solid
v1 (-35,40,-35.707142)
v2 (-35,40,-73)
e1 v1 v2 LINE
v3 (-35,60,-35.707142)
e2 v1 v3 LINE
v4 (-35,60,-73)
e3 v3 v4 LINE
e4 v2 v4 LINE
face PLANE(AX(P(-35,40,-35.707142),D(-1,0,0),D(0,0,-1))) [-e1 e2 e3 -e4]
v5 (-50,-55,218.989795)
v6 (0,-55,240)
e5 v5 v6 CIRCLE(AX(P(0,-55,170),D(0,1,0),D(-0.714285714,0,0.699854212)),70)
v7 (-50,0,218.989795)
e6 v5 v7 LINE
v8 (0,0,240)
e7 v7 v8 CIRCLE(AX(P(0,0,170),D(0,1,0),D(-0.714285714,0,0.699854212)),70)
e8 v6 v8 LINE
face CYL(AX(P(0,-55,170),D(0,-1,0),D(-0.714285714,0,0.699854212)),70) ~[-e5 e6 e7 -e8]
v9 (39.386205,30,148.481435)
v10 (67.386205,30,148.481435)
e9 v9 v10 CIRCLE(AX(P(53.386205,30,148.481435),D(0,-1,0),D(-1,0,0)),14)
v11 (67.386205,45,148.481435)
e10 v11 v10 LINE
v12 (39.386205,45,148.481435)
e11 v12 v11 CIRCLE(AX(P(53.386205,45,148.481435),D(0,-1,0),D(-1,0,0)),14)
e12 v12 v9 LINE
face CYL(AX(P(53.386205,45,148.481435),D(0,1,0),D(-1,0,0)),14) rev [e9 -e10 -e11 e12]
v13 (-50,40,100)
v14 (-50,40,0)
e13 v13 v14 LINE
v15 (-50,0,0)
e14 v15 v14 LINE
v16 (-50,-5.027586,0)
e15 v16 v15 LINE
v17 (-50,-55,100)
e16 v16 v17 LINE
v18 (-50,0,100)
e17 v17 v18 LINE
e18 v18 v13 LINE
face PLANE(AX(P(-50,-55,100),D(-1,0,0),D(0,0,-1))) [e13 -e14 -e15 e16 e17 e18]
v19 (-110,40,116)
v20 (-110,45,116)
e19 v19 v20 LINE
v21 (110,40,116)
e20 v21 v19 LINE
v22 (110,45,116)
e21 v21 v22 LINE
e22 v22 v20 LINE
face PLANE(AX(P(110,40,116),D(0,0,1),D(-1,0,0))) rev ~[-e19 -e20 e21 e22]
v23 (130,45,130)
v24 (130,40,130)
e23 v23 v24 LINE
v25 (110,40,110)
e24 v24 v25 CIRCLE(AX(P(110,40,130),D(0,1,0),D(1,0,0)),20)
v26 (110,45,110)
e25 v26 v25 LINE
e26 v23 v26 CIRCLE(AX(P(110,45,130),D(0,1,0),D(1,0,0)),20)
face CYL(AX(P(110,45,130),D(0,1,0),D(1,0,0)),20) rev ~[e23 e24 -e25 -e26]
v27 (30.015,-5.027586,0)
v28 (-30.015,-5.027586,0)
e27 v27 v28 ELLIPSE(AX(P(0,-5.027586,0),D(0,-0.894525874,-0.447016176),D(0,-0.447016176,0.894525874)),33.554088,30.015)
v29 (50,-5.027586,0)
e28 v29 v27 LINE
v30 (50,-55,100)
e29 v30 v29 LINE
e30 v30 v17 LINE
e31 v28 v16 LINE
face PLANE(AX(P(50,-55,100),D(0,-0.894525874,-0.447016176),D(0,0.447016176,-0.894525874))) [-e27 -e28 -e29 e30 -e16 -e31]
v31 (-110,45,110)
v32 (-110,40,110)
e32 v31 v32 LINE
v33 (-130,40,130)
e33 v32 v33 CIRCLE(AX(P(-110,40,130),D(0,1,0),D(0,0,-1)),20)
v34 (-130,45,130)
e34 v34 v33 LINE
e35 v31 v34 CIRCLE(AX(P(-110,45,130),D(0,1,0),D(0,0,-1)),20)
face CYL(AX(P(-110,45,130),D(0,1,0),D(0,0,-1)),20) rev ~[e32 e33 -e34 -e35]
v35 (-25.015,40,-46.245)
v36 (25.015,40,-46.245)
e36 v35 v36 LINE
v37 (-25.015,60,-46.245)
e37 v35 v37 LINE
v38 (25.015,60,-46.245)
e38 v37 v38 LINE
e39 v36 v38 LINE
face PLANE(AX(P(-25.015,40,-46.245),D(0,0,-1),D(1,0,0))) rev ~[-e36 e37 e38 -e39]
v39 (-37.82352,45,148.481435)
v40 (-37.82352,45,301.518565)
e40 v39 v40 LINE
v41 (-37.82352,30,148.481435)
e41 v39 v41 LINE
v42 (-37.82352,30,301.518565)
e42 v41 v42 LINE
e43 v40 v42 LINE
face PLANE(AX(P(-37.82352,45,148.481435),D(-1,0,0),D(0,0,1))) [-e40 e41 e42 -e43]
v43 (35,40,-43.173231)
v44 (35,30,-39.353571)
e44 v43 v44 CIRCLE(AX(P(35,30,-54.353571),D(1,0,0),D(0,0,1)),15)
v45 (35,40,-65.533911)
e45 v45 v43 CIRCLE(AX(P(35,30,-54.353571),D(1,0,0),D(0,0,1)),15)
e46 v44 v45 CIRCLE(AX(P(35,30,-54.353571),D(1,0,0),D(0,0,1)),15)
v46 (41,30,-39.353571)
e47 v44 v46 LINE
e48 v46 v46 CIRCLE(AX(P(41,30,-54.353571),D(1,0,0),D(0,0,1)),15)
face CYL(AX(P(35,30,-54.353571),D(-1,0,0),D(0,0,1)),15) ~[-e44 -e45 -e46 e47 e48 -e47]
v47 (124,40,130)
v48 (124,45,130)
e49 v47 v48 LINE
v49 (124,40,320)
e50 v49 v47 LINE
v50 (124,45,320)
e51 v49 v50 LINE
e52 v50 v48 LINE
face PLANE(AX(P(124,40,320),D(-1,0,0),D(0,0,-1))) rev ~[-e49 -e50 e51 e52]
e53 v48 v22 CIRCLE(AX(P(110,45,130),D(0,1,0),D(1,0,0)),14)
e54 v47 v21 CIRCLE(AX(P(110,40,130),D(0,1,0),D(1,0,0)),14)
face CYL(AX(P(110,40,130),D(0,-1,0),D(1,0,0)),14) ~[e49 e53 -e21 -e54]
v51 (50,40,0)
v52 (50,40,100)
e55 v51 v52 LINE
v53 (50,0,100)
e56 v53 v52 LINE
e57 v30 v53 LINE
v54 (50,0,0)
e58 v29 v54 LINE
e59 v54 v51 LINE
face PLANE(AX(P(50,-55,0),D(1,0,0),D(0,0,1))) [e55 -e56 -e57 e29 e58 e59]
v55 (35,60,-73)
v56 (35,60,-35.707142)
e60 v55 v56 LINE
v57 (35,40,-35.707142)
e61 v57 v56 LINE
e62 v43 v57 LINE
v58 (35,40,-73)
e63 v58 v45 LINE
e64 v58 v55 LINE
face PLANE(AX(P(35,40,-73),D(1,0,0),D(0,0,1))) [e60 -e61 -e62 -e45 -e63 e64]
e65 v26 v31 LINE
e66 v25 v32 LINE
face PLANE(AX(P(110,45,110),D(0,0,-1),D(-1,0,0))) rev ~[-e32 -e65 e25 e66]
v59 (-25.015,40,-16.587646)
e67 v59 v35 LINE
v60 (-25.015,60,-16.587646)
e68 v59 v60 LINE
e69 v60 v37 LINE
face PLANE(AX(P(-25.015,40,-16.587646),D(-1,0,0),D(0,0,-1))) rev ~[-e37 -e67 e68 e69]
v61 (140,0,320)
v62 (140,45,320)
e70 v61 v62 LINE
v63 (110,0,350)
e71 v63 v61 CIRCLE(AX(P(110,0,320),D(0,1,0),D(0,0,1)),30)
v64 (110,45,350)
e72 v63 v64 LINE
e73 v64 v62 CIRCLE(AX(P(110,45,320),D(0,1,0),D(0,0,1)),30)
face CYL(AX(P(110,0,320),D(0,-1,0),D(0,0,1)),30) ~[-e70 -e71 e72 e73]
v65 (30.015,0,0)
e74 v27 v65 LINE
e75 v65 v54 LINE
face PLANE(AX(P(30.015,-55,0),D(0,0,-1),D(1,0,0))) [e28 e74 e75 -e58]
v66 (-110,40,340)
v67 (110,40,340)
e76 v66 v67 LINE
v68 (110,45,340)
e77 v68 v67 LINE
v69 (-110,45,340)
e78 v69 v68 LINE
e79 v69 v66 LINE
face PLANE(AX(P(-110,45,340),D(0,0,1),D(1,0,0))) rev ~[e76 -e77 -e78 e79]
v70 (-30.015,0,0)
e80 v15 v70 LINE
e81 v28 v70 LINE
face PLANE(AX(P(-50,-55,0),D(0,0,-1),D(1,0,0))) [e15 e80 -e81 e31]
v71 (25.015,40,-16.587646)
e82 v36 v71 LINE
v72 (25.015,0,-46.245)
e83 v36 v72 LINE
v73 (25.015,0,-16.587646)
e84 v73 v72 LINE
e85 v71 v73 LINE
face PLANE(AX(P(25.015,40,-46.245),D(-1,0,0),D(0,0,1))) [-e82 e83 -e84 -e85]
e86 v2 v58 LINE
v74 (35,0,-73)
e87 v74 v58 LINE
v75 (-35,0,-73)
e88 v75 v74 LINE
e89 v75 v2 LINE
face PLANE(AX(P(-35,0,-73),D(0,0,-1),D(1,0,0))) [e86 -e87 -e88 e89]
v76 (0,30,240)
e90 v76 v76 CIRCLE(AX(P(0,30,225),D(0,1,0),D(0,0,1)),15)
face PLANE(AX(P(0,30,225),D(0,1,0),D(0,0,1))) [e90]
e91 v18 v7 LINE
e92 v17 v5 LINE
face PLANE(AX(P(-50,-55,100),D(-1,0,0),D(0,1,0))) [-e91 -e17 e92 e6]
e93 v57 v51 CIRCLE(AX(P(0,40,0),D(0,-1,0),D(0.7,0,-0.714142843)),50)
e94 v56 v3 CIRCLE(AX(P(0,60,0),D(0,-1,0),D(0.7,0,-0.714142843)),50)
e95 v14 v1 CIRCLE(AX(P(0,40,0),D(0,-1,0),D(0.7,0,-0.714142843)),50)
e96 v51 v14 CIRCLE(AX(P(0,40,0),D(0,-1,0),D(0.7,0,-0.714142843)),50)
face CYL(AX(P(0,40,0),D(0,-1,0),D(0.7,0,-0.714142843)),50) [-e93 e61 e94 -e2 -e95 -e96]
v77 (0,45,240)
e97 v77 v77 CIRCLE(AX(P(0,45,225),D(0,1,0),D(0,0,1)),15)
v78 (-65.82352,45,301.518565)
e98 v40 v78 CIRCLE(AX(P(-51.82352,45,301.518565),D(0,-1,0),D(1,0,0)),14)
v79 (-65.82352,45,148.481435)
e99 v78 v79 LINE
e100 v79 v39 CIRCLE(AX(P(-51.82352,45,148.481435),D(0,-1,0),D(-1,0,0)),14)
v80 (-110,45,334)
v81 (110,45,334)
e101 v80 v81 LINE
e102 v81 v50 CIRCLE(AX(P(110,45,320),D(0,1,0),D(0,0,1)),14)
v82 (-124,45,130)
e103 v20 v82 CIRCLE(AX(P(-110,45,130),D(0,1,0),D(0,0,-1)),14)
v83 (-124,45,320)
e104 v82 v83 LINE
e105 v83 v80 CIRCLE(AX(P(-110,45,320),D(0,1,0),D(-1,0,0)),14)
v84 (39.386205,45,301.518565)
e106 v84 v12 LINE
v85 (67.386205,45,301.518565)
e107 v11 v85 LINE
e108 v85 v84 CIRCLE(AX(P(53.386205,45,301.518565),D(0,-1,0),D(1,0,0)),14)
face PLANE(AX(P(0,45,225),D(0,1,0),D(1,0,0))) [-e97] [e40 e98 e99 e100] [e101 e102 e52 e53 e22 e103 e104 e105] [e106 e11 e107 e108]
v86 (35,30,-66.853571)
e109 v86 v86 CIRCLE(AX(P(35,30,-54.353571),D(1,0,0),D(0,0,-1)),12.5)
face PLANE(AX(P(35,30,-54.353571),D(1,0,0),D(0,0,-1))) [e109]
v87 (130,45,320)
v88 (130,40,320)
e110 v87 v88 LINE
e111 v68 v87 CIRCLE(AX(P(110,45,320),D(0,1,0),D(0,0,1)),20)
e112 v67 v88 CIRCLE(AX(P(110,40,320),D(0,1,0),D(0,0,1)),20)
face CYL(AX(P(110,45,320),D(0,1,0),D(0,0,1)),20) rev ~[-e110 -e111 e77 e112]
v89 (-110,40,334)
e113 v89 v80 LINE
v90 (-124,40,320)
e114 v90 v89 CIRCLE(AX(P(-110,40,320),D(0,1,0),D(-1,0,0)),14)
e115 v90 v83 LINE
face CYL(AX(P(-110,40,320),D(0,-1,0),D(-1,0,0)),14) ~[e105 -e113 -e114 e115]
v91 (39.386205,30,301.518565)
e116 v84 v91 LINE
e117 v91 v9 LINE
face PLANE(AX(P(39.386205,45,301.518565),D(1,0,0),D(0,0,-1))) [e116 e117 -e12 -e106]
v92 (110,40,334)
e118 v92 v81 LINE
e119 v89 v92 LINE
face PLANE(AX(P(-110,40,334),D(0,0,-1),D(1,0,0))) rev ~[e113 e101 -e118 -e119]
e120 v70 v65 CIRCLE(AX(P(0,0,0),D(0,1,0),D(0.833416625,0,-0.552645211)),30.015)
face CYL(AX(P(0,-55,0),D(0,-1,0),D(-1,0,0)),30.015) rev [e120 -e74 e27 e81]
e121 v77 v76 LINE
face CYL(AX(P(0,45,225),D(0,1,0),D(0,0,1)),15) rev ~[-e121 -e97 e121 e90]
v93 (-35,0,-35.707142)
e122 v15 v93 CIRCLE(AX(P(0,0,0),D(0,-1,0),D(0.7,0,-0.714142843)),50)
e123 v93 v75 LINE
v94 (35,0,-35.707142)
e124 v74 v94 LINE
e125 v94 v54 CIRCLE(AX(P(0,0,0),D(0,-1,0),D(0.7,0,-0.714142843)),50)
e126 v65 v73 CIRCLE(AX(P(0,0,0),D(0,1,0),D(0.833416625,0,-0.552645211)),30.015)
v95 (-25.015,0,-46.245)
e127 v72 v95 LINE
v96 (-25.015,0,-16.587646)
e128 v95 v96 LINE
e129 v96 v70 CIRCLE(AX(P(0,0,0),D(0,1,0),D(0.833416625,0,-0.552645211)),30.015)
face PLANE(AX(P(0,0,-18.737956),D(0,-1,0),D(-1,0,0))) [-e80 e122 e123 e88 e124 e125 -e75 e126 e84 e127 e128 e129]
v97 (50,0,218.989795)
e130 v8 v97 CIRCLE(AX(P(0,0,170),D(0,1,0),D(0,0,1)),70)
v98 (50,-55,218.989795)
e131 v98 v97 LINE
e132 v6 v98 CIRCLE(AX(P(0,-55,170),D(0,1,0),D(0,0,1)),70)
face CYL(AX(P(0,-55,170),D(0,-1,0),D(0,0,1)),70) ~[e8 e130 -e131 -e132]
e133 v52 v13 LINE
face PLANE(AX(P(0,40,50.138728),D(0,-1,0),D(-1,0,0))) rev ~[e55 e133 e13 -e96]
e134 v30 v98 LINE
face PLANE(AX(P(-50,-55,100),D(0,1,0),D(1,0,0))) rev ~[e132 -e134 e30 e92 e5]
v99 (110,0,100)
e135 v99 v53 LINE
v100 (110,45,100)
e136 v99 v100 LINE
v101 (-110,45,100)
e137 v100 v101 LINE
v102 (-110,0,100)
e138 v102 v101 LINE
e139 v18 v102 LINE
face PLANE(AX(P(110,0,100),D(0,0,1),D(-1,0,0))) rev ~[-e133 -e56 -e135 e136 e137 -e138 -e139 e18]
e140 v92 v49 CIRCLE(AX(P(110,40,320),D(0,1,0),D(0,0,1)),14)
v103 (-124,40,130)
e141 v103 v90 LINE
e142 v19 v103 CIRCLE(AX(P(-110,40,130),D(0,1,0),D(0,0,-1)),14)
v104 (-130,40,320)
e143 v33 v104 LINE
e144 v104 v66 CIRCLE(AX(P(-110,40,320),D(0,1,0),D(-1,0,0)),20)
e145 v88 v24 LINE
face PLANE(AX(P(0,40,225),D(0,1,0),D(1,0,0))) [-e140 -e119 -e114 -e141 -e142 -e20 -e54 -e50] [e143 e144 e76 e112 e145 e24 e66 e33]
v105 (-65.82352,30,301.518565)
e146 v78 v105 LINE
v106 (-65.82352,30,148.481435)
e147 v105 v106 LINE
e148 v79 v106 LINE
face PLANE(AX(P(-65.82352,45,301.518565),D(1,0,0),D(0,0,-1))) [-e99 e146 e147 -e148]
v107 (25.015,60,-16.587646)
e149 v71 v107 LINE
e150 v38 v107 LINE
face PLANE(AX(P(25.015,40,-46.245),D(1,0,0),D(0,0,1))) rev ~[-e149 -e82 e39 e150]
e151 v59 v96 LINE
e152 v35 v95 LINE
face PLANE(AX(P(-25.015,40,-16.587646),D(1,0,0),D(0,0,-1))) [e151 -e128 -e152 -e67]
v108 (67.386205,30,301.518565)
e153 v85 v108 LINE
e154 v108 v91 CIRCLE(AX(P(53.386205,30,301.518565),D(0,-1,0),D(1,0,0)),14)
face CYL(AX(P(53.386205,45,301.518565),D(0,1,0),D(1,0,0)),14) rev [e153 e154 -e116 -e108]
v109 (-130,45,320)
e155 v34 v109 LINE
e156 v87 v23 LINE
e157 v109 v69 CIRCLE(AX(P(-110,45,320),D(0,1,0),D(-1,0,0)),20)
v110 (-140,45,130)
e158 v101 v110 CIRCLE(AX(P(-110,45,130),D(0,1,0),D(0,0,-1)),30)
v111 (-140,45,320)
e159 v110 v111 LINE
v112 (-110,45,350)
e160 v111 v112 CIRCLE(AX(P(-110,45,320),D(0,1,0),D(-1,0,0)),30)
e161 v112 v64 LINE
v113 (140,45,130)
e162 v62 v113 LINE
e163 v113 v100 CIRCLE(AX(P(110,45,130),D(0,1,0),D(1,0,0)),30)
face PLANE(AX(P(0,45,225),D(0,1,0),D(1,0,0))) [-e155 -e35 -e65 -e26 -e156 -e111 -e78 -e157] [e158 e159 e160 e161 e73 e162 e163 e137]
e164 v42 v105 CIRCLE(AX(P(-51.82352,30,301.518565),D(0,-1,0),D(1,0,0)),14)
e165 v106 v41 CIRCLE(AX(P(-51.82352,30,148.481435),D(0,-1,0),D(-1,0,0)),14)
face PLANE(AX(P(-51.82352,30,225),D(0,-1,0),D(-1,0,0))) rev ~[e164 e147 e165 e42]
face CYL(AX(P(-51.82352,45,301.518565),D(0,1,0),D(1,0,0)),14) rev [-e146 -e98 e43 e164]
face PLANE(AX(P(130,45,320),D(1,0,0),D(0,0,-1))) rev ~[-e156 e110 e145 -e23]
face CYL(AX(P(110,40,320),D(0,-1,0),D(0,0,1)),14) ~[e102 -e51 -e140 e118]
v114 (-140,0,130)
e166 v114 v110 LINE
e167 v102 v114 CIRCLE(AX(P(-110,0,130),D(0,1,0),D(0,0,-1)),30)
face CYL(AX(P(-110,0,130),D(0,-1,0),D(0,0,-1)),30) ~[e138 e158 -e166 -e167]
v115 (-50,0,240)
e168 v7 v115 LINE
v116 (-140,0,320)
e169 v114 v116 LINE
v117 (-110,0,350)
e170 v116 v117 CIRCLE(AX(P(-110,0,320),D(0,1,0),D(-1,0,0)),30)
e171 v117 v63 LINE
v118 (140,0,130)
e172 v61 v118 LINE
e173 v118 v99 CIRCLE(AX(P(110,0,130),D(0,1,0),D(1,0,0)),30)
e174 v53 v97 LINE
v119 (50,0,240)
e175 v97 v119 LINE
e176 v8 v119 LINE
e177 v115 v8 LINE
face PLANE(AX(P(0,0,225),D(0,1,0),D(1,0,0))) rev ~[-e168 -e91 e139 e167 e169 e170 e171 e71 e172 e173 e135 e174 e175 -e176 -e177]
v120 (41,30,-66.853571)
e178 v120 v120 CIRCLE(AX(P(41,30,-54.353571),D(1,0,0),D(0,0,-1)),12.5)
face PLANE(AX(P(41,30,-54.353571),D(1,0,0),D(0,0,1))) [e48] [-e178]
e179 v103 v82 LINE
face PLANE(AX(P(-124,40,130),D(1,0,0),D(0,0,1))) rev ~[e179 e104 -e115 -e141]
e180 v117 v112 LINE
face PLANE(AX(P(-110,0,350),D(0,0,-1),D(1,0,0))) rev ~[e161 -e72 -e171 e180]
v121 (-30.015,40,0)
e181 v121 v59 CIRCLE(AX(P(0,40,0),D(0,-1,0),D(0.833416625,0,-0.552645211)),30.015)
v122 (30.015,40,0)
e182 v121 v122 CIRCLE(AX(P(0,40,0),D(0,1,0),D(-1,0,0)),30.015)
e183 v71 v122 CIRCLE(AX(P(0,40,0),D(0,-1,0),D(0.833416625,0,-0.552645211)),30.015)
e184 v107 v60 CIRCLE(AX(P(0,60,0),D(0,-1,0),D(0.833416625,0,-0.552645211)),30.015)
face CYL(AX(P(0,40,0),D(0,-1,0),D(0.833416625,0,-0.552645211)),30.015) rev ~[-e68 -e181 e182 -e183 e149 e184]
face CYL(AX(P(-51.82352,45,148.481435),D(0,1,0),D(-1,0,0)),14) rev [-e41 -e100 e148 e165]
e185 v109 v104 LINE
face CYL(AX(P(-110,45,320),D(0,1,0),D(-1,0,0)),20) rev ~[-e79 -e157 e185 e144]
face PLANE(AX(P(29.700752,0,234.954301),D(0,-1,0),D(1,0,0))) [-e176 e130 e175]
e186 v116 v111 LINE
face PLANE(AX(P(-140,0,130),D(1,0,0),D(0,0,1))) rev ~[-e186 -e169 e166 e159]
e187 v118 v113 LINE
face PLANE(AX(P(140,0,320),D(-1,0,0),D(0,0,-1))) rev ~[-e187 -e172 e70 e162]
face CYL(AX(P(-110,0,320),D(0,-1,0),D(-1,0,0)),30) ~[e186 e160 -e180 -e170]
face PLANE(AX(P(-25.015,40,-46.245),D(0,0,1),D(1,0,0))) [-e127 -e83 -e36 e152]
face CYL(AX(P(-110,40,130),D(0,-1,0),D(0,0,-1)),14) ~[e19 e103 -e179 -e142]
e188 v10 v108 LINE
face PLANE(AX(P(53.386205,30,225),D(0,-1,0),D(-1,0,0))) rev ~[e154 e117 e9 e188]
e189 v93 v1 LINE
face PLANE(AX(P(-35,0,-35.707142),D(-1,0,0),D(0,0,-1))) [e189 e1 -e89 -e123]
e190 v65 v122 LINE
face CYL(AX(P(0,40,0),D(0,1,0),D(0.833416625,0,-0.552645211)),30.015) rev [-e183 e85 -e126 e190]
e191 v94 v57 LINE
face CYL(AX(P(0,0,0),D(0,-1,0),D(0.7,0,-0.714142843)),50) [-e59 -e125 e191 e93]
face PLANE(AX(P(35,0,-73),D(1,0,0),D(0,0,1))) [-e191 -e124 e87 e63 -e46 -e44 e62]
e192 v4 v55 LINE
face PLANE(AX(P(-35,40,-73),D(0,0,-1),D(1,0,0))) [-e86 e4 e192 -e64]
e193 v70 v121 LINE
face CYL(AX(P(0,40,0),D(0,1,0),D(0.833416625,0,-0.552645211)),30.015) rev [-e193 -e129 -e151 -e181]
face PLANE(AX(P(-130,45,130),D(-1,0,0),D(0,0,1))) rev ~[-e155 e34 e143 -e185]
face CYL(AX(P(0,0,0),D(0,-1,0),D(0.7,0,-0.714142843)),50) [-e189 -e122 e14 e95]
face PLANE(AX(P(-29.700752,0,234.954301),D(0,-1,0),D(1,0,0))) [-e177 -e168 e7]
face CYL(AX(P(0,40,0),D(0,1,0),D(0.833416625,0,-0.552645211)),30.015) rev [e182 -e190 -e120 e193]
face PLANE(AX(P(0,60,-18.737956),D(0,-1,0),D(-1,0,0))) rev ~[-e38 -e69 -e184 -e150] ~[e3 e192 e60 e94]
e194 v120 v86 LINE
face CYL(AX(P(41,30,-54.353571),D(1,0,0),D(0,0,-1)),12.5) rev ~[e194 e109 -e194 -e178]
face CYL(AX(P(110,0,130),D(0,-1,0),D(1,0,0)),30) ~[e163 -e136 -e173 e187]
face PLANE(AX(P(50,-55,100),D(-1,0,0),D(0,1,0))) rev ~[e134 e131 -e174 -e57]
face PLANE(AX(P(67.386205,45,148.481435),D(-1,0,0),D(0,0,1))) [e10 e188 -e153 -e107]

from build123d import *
from build123d.topology import SkipClean

# Parameters (mm, degrees)
BOSS_EXTRUDE1_DEPTH      = 40
CUT_EXTRUDE1_DEPTH       = 66
BOSS_EXTRUDE2_START      = -55
BOSS_EXTRUDE2_DEPTH      = 95
CUT_EXTRUDE2_DEPTH       = 256
BOSS_EXTRUDE3_DEPTH      = 5
BOSS_EXTRUDE3_DEPTH_BACK = 40
BOSS_EXTRUDE4_DEPTH      = 20
CUT_EXTRUDE3_DEPTH       = 5
BOSS_EXTRUDE5_DEPTH      = 5
SKETCH9_R                = 15
CUT_EXTRUDE5_DEPTH       = 15
SKETCH10_W               = 100
SKETCH10_H               = 55
BOSS_EXTRUDE6_DEPTH      = 140
CUT_EXTRUDE6_DEPTH       = 55
SKETCH12_R               = 15
BOSS_EXTRUDE7_DEPTH      = 6
SKETCH13_R               = 12.5
CUT_EXTRUDE7_DEPTH       = 6


with BuildPart() as part:
    # Sketch1 → Boss-Extrude1 (new body)
    with BuildSketch(Plane(origin=(0, 0, 0), x_dir=(1, 0, 0), z_dir=(0, 1, 0))):
        with BuildLine():
            Line((-35, 73), (35, 73))
            Line((35, 73), (35, 35.707142143))
            ThreePointArc((35, 35.707142143), (0, -50), (-35, 35.707142143))
            Line((-35, 35.707142143), (-35, 73))
        make_face()
    extrude(amount=BOSS_EXTRUDE1_DEPTH)

    # Sketch2 → Cut-Extrude1 (cut)
    with BuildSketch(Plane(origin=(0, 40, 0), x_dir=(1, 0, 0), z_dir=(0, 1, 0))):
        with BuildLine():
            Line((-25.015, 16.587646005), (-25.015, 46.245))
            Line((-25.015, 46.245), (25.015, 46.245))
            Line((25.015, 46.245), (25.015, 16.587646005))
            ThreePointArc((25.015, 16.587646005), (0, -30.015), (-25.015, 16.587646005))
        make_face()
    extrude(amount=-CUT_EXTRUDE1_DEPTH, mode=Mode.SUBTRACT)

    # Sketch3 → Boss-Extrude2 (add)
    with SkipClean():  # the faces are left unmerged after this step: merging them gives an invalid solid
        with BuildSketch(Plane(origin=(0, 0, 0), x_dir=(1, 0, 0), z_dir=(0, 1, 0)).offset(BOSS_EXTRUDE2_START)):
            with BuildLine():
                Line((30.015, 0), (50, 0))
                Line((50, 0), (50, -100))
                Line((50, -100), (-50, -100))
                Line((-50, -100), (-50, 0))
                Line((-50, 0), (-30.015, 0))
                ThreePointArc((-30.015, 0), (0, -30.015), (30.015, 0))
            make_face()
        extrude(amount=BOSS_EXTRUDE2_DEPTH)

    # Sketch4 → Cut-Extrude2 (cut)
    with SkipClean():  # the faces are left unmerged after this step: merging them gives an invalid solid
        with BuildSketch(Plane(origin=(50, 0, 0), x_dir=(0, 0, -1), z_dir=(1, 0, 0))):
            Polygon((-100, -55), (0, -5.02758566), (0, -55), align=None)
        extrude(amount=-CUT_EXTRUDE2_DEPTH, mode=Mode.SUBTRACT)

    # Sketch5 → Boss-Extrude3 (add, two sides: drawn at the far end of the back side and taken through both)
    with SkipClean():  # the faces are left unmerged after this step: merging them gives an invalid solid
        with BuildSketch(Plane(origin=(0, 40, 0), x_dir=(1, 0, 0), z_dir=(0, 1, 0)).offset(-BOSS_EXTRUDE3_DEPTH_BACK)):
            with BuildLine():
                Line((-110, -350), (110, -350))
                ThreePointArc((110, -350), (131.213203436, -341.213203436), (140, -320))
                Line((140, -320), (140, -130))
                ThreePointArc((140, -130), (131.213203436, -108.786796564), (110, -100))
                Line((110, -100), (-110, -100))
                ThreePointArc((-110, -100), (-131.213203436, -108.786796564), (-140, -130))
                Line((-140, -130), (-140, -320))
                ThreePointArc((-140, -320), (-131.213203436, -341.213203436), (-110, -350))
            make_face()
        extrude(amount=BOSS_EXTRUDE3_DEPTH + BOSS_EXTRUDE3_DEPTH_BACK)

    # Sketch6 → Boss-Extrude4 (add)
    with SkipClean():  # the faces are left unmerged after this step: merging them gives an invalid solid
        with BuildSketch(Plane(origin=(0, 40, 0), x_dir=(1, 0, 0), z_dir=(0, 1, 0))):
            with BuildLine():
                Line((-35, 35.707142143), (-35, 73))
                Line((-35, 73), (35, 73))
                Line((35, 73), (35, 35.707142143))
                ThreePointArc((35, 35.707142143), (0, -50), (-35, 35.707142143))
            make_face()
            with BuildLine():
                Line((-25.015, 16.587646005), (-25.015, 46.245))
                Line((-25.015, 46.245), (25.015, 46.245))
                Line((25.015, 46.245), (25.015, 16.587646005))
                ThreePointArc((25.015, 16.587646005), (0, -30.015), (-25.015, 16.587646005))
            make_face(mode=Mode.SUBTRACT)
        extrude(amount=BOSS_EXTRUDE4_DEPTH)

    # Sketch7 → Cut-Extrude3 (cut)
    with SkipClean():  # the faces are left unmerged after this step: merging them gives an invalid solid
        with BuildSketch(Plane(origin=(0, 45, 0), x_dir=(1, 0, 0), z_dir=(0, 1, 0))):
            with BuildLine():
                Line((130, -320), (130, -130))
                ThreePointArc((130, -130), (124.142135624, -115.857864376), (110, -110))
                Line((110, -110), (-110, -110))
                ThreePointArc((-110, -110), (-124.142135624, -115.857864376), (-130, -130))
                Line((-130, -130), (-130, -320))
                ThreePointArc((-130, -320), (-124.142135624, -334.142135624), (-110, -340))
                Line((-110, -340), (110, -340))
                ThreePointArc((110, -340), (124.142135624, -334.142135624), (130, -320))
            make_face()
        extrude(amount=-CUT_EXTRUDE3_DEPTH, mode=Mode.SUBTRACT)

    # Sketch8 → Boss-Extrude5 (add)
    with SkipClean():  # the faces are left unmerged after this step: merging them gives an invalid solid
        with BuildSketch(Plane(origin=(0, 40, 0), x_dir=(1, 0, 0), z_dir=(0, 1, 0))):
            with BuildLine():
                Line((124, -320), (124, -130))
                ThreePointArc((124, -130), (119.899494937, -120.100505063), (110, -116))
                Line((110, -116), (-110, -116))
                ThreePointArc((-110, -116), (-119.899494937, -120.100505063), (-124, -130))
                Line((-124, -130), (-124, -320))
                ThreePointArc((-124, -320), (-119.899494937, -329.899494937), (-110, -334))
                Line((-110, -334), (110, -334))
                ThreePointArc((110, -334), (119.899494937, -329.899494937), (124, -320))
            make_face()
        extrude(amount=BOSS_EXTRUDE5_DEPTH)

    # Sketch9 → Cut-Extrude5 (cut)
    with SkipClean():  # the faces are left unmerged after this step: merging them gives an invalid solid
        with BuildSketch(Plane(origin=(0, 45, 0), x_dir=(1, 0, 0), z_dir=(0, 1, 0))):
            with Locations(Location((0, -225, 0), (0, 0, 270))):
                Circle(SKETCH9_R)
            with BuildLine():
                Line((-65.823520443, -301.518564523), (-65.823520443, -148.481435477))
                ThreePointArc((-65.823520443, -148.481435477), (-51.823520443, -134.481435477), (-37.823520443, -148.481435477))
                Line((-37.823520443, -148.481435477), (-37.823520443, -301.518564523))
                ThreePointArc((-37.823520443, -301.518564523), (-51.823520443, -315.518564523), (-65.823520443, -301.518564523))
            make_face()
            with BuildLine():
                Line((39.386204855, -301.518564523), (39.386204855, -148.481435477))
                ThreePointArc((39.386204855, -148.481435477), (53.386204855, -134.481435477), (67.386204855, -148.481435477))
                Line((67.386204855, -148.481435477), (67.386204855, -301.518564523))
                ThreePointArc((67.386204855, -301.518564523), (53.386204855, -315.518564523), (39.386204855, -301.518564523))
            make_face()
        extrude(amount=-CUT_EXTRUDE5_DEPTH, mode=Mode.SUBTRACT)

    # Sketch10 → Boss-Extrude6 (add)
    with SkipClean():  # the faces are left unmerged after this step: merging them gives an invalid solid
        with BuildSketch(Plane.XY.offset(100)):
            with Locations((0, -27.5)):
                Rectangle(SKETCH10_W, SKETCH10_H)
        extrude(amount=BOSS_EXTRUDE6_DEPTH)

    # Sketch11 → Cut-Extrude6 (cut)
    with SkipClean():  # the faces are left unmerged after this step: merging them gives an invalid solid
        with BuildSketch(Plane.XZ.offset(55)):
            with BuildLine():
                Line((50, 240), (0, 240))
                ThreePointArc((0, 240), (27.117470016, 234.534043883), (50, 218.989794856))
                Line((50, 218.989794856), (50, 240))
            make_face()
            with BuildLine():
                Line((0, 240), (-50, 240))
                Line((-50, 240), (-50, 218.989794856))
                ThreePointArc((-50, 218.989794856), (-27.117470016, 234.534043883), (0, 240))
            make_face()
        extrude(amount=-CUT_EXTRUDE6_DEPTH, mode=Mode.SUBTRACT)

    # Sketch12 → Boss-Extrude7 (add)
    with SkipClean():  # the faces are left unmerged after this step: merging them gives an invalid solid
        with BuildSketch(Plane(origin=(35, 0, 0), x_dir=(0, 0, -1), z_dir=(1, 0, 0))):
            with Locations(Location((54.353571071, 30, 0), (0, 0, 180))):
                Circle(SKETCH12_R)
        extrude(amount=BOSS_EXTRUDE7_DEPTH)

    # Sketch13 → Cut-Extrude7 (cut)
    with SkipClean():  # the faces are left unmerged after this step: merging them gives an invalid solid
        with BuildSketch(Plane(origin=(41, 0, 0), x_dir=(0, 0, -1), z_dir=(1, 0, 0))):
            with Locations((54.353571071, 30)):
                Circle(SKETCH13_R)
        extrude(amount=-CUT_EXTRUDE7_DEPTH, mode=Mode.SUBTRACT)


solid = part.part
